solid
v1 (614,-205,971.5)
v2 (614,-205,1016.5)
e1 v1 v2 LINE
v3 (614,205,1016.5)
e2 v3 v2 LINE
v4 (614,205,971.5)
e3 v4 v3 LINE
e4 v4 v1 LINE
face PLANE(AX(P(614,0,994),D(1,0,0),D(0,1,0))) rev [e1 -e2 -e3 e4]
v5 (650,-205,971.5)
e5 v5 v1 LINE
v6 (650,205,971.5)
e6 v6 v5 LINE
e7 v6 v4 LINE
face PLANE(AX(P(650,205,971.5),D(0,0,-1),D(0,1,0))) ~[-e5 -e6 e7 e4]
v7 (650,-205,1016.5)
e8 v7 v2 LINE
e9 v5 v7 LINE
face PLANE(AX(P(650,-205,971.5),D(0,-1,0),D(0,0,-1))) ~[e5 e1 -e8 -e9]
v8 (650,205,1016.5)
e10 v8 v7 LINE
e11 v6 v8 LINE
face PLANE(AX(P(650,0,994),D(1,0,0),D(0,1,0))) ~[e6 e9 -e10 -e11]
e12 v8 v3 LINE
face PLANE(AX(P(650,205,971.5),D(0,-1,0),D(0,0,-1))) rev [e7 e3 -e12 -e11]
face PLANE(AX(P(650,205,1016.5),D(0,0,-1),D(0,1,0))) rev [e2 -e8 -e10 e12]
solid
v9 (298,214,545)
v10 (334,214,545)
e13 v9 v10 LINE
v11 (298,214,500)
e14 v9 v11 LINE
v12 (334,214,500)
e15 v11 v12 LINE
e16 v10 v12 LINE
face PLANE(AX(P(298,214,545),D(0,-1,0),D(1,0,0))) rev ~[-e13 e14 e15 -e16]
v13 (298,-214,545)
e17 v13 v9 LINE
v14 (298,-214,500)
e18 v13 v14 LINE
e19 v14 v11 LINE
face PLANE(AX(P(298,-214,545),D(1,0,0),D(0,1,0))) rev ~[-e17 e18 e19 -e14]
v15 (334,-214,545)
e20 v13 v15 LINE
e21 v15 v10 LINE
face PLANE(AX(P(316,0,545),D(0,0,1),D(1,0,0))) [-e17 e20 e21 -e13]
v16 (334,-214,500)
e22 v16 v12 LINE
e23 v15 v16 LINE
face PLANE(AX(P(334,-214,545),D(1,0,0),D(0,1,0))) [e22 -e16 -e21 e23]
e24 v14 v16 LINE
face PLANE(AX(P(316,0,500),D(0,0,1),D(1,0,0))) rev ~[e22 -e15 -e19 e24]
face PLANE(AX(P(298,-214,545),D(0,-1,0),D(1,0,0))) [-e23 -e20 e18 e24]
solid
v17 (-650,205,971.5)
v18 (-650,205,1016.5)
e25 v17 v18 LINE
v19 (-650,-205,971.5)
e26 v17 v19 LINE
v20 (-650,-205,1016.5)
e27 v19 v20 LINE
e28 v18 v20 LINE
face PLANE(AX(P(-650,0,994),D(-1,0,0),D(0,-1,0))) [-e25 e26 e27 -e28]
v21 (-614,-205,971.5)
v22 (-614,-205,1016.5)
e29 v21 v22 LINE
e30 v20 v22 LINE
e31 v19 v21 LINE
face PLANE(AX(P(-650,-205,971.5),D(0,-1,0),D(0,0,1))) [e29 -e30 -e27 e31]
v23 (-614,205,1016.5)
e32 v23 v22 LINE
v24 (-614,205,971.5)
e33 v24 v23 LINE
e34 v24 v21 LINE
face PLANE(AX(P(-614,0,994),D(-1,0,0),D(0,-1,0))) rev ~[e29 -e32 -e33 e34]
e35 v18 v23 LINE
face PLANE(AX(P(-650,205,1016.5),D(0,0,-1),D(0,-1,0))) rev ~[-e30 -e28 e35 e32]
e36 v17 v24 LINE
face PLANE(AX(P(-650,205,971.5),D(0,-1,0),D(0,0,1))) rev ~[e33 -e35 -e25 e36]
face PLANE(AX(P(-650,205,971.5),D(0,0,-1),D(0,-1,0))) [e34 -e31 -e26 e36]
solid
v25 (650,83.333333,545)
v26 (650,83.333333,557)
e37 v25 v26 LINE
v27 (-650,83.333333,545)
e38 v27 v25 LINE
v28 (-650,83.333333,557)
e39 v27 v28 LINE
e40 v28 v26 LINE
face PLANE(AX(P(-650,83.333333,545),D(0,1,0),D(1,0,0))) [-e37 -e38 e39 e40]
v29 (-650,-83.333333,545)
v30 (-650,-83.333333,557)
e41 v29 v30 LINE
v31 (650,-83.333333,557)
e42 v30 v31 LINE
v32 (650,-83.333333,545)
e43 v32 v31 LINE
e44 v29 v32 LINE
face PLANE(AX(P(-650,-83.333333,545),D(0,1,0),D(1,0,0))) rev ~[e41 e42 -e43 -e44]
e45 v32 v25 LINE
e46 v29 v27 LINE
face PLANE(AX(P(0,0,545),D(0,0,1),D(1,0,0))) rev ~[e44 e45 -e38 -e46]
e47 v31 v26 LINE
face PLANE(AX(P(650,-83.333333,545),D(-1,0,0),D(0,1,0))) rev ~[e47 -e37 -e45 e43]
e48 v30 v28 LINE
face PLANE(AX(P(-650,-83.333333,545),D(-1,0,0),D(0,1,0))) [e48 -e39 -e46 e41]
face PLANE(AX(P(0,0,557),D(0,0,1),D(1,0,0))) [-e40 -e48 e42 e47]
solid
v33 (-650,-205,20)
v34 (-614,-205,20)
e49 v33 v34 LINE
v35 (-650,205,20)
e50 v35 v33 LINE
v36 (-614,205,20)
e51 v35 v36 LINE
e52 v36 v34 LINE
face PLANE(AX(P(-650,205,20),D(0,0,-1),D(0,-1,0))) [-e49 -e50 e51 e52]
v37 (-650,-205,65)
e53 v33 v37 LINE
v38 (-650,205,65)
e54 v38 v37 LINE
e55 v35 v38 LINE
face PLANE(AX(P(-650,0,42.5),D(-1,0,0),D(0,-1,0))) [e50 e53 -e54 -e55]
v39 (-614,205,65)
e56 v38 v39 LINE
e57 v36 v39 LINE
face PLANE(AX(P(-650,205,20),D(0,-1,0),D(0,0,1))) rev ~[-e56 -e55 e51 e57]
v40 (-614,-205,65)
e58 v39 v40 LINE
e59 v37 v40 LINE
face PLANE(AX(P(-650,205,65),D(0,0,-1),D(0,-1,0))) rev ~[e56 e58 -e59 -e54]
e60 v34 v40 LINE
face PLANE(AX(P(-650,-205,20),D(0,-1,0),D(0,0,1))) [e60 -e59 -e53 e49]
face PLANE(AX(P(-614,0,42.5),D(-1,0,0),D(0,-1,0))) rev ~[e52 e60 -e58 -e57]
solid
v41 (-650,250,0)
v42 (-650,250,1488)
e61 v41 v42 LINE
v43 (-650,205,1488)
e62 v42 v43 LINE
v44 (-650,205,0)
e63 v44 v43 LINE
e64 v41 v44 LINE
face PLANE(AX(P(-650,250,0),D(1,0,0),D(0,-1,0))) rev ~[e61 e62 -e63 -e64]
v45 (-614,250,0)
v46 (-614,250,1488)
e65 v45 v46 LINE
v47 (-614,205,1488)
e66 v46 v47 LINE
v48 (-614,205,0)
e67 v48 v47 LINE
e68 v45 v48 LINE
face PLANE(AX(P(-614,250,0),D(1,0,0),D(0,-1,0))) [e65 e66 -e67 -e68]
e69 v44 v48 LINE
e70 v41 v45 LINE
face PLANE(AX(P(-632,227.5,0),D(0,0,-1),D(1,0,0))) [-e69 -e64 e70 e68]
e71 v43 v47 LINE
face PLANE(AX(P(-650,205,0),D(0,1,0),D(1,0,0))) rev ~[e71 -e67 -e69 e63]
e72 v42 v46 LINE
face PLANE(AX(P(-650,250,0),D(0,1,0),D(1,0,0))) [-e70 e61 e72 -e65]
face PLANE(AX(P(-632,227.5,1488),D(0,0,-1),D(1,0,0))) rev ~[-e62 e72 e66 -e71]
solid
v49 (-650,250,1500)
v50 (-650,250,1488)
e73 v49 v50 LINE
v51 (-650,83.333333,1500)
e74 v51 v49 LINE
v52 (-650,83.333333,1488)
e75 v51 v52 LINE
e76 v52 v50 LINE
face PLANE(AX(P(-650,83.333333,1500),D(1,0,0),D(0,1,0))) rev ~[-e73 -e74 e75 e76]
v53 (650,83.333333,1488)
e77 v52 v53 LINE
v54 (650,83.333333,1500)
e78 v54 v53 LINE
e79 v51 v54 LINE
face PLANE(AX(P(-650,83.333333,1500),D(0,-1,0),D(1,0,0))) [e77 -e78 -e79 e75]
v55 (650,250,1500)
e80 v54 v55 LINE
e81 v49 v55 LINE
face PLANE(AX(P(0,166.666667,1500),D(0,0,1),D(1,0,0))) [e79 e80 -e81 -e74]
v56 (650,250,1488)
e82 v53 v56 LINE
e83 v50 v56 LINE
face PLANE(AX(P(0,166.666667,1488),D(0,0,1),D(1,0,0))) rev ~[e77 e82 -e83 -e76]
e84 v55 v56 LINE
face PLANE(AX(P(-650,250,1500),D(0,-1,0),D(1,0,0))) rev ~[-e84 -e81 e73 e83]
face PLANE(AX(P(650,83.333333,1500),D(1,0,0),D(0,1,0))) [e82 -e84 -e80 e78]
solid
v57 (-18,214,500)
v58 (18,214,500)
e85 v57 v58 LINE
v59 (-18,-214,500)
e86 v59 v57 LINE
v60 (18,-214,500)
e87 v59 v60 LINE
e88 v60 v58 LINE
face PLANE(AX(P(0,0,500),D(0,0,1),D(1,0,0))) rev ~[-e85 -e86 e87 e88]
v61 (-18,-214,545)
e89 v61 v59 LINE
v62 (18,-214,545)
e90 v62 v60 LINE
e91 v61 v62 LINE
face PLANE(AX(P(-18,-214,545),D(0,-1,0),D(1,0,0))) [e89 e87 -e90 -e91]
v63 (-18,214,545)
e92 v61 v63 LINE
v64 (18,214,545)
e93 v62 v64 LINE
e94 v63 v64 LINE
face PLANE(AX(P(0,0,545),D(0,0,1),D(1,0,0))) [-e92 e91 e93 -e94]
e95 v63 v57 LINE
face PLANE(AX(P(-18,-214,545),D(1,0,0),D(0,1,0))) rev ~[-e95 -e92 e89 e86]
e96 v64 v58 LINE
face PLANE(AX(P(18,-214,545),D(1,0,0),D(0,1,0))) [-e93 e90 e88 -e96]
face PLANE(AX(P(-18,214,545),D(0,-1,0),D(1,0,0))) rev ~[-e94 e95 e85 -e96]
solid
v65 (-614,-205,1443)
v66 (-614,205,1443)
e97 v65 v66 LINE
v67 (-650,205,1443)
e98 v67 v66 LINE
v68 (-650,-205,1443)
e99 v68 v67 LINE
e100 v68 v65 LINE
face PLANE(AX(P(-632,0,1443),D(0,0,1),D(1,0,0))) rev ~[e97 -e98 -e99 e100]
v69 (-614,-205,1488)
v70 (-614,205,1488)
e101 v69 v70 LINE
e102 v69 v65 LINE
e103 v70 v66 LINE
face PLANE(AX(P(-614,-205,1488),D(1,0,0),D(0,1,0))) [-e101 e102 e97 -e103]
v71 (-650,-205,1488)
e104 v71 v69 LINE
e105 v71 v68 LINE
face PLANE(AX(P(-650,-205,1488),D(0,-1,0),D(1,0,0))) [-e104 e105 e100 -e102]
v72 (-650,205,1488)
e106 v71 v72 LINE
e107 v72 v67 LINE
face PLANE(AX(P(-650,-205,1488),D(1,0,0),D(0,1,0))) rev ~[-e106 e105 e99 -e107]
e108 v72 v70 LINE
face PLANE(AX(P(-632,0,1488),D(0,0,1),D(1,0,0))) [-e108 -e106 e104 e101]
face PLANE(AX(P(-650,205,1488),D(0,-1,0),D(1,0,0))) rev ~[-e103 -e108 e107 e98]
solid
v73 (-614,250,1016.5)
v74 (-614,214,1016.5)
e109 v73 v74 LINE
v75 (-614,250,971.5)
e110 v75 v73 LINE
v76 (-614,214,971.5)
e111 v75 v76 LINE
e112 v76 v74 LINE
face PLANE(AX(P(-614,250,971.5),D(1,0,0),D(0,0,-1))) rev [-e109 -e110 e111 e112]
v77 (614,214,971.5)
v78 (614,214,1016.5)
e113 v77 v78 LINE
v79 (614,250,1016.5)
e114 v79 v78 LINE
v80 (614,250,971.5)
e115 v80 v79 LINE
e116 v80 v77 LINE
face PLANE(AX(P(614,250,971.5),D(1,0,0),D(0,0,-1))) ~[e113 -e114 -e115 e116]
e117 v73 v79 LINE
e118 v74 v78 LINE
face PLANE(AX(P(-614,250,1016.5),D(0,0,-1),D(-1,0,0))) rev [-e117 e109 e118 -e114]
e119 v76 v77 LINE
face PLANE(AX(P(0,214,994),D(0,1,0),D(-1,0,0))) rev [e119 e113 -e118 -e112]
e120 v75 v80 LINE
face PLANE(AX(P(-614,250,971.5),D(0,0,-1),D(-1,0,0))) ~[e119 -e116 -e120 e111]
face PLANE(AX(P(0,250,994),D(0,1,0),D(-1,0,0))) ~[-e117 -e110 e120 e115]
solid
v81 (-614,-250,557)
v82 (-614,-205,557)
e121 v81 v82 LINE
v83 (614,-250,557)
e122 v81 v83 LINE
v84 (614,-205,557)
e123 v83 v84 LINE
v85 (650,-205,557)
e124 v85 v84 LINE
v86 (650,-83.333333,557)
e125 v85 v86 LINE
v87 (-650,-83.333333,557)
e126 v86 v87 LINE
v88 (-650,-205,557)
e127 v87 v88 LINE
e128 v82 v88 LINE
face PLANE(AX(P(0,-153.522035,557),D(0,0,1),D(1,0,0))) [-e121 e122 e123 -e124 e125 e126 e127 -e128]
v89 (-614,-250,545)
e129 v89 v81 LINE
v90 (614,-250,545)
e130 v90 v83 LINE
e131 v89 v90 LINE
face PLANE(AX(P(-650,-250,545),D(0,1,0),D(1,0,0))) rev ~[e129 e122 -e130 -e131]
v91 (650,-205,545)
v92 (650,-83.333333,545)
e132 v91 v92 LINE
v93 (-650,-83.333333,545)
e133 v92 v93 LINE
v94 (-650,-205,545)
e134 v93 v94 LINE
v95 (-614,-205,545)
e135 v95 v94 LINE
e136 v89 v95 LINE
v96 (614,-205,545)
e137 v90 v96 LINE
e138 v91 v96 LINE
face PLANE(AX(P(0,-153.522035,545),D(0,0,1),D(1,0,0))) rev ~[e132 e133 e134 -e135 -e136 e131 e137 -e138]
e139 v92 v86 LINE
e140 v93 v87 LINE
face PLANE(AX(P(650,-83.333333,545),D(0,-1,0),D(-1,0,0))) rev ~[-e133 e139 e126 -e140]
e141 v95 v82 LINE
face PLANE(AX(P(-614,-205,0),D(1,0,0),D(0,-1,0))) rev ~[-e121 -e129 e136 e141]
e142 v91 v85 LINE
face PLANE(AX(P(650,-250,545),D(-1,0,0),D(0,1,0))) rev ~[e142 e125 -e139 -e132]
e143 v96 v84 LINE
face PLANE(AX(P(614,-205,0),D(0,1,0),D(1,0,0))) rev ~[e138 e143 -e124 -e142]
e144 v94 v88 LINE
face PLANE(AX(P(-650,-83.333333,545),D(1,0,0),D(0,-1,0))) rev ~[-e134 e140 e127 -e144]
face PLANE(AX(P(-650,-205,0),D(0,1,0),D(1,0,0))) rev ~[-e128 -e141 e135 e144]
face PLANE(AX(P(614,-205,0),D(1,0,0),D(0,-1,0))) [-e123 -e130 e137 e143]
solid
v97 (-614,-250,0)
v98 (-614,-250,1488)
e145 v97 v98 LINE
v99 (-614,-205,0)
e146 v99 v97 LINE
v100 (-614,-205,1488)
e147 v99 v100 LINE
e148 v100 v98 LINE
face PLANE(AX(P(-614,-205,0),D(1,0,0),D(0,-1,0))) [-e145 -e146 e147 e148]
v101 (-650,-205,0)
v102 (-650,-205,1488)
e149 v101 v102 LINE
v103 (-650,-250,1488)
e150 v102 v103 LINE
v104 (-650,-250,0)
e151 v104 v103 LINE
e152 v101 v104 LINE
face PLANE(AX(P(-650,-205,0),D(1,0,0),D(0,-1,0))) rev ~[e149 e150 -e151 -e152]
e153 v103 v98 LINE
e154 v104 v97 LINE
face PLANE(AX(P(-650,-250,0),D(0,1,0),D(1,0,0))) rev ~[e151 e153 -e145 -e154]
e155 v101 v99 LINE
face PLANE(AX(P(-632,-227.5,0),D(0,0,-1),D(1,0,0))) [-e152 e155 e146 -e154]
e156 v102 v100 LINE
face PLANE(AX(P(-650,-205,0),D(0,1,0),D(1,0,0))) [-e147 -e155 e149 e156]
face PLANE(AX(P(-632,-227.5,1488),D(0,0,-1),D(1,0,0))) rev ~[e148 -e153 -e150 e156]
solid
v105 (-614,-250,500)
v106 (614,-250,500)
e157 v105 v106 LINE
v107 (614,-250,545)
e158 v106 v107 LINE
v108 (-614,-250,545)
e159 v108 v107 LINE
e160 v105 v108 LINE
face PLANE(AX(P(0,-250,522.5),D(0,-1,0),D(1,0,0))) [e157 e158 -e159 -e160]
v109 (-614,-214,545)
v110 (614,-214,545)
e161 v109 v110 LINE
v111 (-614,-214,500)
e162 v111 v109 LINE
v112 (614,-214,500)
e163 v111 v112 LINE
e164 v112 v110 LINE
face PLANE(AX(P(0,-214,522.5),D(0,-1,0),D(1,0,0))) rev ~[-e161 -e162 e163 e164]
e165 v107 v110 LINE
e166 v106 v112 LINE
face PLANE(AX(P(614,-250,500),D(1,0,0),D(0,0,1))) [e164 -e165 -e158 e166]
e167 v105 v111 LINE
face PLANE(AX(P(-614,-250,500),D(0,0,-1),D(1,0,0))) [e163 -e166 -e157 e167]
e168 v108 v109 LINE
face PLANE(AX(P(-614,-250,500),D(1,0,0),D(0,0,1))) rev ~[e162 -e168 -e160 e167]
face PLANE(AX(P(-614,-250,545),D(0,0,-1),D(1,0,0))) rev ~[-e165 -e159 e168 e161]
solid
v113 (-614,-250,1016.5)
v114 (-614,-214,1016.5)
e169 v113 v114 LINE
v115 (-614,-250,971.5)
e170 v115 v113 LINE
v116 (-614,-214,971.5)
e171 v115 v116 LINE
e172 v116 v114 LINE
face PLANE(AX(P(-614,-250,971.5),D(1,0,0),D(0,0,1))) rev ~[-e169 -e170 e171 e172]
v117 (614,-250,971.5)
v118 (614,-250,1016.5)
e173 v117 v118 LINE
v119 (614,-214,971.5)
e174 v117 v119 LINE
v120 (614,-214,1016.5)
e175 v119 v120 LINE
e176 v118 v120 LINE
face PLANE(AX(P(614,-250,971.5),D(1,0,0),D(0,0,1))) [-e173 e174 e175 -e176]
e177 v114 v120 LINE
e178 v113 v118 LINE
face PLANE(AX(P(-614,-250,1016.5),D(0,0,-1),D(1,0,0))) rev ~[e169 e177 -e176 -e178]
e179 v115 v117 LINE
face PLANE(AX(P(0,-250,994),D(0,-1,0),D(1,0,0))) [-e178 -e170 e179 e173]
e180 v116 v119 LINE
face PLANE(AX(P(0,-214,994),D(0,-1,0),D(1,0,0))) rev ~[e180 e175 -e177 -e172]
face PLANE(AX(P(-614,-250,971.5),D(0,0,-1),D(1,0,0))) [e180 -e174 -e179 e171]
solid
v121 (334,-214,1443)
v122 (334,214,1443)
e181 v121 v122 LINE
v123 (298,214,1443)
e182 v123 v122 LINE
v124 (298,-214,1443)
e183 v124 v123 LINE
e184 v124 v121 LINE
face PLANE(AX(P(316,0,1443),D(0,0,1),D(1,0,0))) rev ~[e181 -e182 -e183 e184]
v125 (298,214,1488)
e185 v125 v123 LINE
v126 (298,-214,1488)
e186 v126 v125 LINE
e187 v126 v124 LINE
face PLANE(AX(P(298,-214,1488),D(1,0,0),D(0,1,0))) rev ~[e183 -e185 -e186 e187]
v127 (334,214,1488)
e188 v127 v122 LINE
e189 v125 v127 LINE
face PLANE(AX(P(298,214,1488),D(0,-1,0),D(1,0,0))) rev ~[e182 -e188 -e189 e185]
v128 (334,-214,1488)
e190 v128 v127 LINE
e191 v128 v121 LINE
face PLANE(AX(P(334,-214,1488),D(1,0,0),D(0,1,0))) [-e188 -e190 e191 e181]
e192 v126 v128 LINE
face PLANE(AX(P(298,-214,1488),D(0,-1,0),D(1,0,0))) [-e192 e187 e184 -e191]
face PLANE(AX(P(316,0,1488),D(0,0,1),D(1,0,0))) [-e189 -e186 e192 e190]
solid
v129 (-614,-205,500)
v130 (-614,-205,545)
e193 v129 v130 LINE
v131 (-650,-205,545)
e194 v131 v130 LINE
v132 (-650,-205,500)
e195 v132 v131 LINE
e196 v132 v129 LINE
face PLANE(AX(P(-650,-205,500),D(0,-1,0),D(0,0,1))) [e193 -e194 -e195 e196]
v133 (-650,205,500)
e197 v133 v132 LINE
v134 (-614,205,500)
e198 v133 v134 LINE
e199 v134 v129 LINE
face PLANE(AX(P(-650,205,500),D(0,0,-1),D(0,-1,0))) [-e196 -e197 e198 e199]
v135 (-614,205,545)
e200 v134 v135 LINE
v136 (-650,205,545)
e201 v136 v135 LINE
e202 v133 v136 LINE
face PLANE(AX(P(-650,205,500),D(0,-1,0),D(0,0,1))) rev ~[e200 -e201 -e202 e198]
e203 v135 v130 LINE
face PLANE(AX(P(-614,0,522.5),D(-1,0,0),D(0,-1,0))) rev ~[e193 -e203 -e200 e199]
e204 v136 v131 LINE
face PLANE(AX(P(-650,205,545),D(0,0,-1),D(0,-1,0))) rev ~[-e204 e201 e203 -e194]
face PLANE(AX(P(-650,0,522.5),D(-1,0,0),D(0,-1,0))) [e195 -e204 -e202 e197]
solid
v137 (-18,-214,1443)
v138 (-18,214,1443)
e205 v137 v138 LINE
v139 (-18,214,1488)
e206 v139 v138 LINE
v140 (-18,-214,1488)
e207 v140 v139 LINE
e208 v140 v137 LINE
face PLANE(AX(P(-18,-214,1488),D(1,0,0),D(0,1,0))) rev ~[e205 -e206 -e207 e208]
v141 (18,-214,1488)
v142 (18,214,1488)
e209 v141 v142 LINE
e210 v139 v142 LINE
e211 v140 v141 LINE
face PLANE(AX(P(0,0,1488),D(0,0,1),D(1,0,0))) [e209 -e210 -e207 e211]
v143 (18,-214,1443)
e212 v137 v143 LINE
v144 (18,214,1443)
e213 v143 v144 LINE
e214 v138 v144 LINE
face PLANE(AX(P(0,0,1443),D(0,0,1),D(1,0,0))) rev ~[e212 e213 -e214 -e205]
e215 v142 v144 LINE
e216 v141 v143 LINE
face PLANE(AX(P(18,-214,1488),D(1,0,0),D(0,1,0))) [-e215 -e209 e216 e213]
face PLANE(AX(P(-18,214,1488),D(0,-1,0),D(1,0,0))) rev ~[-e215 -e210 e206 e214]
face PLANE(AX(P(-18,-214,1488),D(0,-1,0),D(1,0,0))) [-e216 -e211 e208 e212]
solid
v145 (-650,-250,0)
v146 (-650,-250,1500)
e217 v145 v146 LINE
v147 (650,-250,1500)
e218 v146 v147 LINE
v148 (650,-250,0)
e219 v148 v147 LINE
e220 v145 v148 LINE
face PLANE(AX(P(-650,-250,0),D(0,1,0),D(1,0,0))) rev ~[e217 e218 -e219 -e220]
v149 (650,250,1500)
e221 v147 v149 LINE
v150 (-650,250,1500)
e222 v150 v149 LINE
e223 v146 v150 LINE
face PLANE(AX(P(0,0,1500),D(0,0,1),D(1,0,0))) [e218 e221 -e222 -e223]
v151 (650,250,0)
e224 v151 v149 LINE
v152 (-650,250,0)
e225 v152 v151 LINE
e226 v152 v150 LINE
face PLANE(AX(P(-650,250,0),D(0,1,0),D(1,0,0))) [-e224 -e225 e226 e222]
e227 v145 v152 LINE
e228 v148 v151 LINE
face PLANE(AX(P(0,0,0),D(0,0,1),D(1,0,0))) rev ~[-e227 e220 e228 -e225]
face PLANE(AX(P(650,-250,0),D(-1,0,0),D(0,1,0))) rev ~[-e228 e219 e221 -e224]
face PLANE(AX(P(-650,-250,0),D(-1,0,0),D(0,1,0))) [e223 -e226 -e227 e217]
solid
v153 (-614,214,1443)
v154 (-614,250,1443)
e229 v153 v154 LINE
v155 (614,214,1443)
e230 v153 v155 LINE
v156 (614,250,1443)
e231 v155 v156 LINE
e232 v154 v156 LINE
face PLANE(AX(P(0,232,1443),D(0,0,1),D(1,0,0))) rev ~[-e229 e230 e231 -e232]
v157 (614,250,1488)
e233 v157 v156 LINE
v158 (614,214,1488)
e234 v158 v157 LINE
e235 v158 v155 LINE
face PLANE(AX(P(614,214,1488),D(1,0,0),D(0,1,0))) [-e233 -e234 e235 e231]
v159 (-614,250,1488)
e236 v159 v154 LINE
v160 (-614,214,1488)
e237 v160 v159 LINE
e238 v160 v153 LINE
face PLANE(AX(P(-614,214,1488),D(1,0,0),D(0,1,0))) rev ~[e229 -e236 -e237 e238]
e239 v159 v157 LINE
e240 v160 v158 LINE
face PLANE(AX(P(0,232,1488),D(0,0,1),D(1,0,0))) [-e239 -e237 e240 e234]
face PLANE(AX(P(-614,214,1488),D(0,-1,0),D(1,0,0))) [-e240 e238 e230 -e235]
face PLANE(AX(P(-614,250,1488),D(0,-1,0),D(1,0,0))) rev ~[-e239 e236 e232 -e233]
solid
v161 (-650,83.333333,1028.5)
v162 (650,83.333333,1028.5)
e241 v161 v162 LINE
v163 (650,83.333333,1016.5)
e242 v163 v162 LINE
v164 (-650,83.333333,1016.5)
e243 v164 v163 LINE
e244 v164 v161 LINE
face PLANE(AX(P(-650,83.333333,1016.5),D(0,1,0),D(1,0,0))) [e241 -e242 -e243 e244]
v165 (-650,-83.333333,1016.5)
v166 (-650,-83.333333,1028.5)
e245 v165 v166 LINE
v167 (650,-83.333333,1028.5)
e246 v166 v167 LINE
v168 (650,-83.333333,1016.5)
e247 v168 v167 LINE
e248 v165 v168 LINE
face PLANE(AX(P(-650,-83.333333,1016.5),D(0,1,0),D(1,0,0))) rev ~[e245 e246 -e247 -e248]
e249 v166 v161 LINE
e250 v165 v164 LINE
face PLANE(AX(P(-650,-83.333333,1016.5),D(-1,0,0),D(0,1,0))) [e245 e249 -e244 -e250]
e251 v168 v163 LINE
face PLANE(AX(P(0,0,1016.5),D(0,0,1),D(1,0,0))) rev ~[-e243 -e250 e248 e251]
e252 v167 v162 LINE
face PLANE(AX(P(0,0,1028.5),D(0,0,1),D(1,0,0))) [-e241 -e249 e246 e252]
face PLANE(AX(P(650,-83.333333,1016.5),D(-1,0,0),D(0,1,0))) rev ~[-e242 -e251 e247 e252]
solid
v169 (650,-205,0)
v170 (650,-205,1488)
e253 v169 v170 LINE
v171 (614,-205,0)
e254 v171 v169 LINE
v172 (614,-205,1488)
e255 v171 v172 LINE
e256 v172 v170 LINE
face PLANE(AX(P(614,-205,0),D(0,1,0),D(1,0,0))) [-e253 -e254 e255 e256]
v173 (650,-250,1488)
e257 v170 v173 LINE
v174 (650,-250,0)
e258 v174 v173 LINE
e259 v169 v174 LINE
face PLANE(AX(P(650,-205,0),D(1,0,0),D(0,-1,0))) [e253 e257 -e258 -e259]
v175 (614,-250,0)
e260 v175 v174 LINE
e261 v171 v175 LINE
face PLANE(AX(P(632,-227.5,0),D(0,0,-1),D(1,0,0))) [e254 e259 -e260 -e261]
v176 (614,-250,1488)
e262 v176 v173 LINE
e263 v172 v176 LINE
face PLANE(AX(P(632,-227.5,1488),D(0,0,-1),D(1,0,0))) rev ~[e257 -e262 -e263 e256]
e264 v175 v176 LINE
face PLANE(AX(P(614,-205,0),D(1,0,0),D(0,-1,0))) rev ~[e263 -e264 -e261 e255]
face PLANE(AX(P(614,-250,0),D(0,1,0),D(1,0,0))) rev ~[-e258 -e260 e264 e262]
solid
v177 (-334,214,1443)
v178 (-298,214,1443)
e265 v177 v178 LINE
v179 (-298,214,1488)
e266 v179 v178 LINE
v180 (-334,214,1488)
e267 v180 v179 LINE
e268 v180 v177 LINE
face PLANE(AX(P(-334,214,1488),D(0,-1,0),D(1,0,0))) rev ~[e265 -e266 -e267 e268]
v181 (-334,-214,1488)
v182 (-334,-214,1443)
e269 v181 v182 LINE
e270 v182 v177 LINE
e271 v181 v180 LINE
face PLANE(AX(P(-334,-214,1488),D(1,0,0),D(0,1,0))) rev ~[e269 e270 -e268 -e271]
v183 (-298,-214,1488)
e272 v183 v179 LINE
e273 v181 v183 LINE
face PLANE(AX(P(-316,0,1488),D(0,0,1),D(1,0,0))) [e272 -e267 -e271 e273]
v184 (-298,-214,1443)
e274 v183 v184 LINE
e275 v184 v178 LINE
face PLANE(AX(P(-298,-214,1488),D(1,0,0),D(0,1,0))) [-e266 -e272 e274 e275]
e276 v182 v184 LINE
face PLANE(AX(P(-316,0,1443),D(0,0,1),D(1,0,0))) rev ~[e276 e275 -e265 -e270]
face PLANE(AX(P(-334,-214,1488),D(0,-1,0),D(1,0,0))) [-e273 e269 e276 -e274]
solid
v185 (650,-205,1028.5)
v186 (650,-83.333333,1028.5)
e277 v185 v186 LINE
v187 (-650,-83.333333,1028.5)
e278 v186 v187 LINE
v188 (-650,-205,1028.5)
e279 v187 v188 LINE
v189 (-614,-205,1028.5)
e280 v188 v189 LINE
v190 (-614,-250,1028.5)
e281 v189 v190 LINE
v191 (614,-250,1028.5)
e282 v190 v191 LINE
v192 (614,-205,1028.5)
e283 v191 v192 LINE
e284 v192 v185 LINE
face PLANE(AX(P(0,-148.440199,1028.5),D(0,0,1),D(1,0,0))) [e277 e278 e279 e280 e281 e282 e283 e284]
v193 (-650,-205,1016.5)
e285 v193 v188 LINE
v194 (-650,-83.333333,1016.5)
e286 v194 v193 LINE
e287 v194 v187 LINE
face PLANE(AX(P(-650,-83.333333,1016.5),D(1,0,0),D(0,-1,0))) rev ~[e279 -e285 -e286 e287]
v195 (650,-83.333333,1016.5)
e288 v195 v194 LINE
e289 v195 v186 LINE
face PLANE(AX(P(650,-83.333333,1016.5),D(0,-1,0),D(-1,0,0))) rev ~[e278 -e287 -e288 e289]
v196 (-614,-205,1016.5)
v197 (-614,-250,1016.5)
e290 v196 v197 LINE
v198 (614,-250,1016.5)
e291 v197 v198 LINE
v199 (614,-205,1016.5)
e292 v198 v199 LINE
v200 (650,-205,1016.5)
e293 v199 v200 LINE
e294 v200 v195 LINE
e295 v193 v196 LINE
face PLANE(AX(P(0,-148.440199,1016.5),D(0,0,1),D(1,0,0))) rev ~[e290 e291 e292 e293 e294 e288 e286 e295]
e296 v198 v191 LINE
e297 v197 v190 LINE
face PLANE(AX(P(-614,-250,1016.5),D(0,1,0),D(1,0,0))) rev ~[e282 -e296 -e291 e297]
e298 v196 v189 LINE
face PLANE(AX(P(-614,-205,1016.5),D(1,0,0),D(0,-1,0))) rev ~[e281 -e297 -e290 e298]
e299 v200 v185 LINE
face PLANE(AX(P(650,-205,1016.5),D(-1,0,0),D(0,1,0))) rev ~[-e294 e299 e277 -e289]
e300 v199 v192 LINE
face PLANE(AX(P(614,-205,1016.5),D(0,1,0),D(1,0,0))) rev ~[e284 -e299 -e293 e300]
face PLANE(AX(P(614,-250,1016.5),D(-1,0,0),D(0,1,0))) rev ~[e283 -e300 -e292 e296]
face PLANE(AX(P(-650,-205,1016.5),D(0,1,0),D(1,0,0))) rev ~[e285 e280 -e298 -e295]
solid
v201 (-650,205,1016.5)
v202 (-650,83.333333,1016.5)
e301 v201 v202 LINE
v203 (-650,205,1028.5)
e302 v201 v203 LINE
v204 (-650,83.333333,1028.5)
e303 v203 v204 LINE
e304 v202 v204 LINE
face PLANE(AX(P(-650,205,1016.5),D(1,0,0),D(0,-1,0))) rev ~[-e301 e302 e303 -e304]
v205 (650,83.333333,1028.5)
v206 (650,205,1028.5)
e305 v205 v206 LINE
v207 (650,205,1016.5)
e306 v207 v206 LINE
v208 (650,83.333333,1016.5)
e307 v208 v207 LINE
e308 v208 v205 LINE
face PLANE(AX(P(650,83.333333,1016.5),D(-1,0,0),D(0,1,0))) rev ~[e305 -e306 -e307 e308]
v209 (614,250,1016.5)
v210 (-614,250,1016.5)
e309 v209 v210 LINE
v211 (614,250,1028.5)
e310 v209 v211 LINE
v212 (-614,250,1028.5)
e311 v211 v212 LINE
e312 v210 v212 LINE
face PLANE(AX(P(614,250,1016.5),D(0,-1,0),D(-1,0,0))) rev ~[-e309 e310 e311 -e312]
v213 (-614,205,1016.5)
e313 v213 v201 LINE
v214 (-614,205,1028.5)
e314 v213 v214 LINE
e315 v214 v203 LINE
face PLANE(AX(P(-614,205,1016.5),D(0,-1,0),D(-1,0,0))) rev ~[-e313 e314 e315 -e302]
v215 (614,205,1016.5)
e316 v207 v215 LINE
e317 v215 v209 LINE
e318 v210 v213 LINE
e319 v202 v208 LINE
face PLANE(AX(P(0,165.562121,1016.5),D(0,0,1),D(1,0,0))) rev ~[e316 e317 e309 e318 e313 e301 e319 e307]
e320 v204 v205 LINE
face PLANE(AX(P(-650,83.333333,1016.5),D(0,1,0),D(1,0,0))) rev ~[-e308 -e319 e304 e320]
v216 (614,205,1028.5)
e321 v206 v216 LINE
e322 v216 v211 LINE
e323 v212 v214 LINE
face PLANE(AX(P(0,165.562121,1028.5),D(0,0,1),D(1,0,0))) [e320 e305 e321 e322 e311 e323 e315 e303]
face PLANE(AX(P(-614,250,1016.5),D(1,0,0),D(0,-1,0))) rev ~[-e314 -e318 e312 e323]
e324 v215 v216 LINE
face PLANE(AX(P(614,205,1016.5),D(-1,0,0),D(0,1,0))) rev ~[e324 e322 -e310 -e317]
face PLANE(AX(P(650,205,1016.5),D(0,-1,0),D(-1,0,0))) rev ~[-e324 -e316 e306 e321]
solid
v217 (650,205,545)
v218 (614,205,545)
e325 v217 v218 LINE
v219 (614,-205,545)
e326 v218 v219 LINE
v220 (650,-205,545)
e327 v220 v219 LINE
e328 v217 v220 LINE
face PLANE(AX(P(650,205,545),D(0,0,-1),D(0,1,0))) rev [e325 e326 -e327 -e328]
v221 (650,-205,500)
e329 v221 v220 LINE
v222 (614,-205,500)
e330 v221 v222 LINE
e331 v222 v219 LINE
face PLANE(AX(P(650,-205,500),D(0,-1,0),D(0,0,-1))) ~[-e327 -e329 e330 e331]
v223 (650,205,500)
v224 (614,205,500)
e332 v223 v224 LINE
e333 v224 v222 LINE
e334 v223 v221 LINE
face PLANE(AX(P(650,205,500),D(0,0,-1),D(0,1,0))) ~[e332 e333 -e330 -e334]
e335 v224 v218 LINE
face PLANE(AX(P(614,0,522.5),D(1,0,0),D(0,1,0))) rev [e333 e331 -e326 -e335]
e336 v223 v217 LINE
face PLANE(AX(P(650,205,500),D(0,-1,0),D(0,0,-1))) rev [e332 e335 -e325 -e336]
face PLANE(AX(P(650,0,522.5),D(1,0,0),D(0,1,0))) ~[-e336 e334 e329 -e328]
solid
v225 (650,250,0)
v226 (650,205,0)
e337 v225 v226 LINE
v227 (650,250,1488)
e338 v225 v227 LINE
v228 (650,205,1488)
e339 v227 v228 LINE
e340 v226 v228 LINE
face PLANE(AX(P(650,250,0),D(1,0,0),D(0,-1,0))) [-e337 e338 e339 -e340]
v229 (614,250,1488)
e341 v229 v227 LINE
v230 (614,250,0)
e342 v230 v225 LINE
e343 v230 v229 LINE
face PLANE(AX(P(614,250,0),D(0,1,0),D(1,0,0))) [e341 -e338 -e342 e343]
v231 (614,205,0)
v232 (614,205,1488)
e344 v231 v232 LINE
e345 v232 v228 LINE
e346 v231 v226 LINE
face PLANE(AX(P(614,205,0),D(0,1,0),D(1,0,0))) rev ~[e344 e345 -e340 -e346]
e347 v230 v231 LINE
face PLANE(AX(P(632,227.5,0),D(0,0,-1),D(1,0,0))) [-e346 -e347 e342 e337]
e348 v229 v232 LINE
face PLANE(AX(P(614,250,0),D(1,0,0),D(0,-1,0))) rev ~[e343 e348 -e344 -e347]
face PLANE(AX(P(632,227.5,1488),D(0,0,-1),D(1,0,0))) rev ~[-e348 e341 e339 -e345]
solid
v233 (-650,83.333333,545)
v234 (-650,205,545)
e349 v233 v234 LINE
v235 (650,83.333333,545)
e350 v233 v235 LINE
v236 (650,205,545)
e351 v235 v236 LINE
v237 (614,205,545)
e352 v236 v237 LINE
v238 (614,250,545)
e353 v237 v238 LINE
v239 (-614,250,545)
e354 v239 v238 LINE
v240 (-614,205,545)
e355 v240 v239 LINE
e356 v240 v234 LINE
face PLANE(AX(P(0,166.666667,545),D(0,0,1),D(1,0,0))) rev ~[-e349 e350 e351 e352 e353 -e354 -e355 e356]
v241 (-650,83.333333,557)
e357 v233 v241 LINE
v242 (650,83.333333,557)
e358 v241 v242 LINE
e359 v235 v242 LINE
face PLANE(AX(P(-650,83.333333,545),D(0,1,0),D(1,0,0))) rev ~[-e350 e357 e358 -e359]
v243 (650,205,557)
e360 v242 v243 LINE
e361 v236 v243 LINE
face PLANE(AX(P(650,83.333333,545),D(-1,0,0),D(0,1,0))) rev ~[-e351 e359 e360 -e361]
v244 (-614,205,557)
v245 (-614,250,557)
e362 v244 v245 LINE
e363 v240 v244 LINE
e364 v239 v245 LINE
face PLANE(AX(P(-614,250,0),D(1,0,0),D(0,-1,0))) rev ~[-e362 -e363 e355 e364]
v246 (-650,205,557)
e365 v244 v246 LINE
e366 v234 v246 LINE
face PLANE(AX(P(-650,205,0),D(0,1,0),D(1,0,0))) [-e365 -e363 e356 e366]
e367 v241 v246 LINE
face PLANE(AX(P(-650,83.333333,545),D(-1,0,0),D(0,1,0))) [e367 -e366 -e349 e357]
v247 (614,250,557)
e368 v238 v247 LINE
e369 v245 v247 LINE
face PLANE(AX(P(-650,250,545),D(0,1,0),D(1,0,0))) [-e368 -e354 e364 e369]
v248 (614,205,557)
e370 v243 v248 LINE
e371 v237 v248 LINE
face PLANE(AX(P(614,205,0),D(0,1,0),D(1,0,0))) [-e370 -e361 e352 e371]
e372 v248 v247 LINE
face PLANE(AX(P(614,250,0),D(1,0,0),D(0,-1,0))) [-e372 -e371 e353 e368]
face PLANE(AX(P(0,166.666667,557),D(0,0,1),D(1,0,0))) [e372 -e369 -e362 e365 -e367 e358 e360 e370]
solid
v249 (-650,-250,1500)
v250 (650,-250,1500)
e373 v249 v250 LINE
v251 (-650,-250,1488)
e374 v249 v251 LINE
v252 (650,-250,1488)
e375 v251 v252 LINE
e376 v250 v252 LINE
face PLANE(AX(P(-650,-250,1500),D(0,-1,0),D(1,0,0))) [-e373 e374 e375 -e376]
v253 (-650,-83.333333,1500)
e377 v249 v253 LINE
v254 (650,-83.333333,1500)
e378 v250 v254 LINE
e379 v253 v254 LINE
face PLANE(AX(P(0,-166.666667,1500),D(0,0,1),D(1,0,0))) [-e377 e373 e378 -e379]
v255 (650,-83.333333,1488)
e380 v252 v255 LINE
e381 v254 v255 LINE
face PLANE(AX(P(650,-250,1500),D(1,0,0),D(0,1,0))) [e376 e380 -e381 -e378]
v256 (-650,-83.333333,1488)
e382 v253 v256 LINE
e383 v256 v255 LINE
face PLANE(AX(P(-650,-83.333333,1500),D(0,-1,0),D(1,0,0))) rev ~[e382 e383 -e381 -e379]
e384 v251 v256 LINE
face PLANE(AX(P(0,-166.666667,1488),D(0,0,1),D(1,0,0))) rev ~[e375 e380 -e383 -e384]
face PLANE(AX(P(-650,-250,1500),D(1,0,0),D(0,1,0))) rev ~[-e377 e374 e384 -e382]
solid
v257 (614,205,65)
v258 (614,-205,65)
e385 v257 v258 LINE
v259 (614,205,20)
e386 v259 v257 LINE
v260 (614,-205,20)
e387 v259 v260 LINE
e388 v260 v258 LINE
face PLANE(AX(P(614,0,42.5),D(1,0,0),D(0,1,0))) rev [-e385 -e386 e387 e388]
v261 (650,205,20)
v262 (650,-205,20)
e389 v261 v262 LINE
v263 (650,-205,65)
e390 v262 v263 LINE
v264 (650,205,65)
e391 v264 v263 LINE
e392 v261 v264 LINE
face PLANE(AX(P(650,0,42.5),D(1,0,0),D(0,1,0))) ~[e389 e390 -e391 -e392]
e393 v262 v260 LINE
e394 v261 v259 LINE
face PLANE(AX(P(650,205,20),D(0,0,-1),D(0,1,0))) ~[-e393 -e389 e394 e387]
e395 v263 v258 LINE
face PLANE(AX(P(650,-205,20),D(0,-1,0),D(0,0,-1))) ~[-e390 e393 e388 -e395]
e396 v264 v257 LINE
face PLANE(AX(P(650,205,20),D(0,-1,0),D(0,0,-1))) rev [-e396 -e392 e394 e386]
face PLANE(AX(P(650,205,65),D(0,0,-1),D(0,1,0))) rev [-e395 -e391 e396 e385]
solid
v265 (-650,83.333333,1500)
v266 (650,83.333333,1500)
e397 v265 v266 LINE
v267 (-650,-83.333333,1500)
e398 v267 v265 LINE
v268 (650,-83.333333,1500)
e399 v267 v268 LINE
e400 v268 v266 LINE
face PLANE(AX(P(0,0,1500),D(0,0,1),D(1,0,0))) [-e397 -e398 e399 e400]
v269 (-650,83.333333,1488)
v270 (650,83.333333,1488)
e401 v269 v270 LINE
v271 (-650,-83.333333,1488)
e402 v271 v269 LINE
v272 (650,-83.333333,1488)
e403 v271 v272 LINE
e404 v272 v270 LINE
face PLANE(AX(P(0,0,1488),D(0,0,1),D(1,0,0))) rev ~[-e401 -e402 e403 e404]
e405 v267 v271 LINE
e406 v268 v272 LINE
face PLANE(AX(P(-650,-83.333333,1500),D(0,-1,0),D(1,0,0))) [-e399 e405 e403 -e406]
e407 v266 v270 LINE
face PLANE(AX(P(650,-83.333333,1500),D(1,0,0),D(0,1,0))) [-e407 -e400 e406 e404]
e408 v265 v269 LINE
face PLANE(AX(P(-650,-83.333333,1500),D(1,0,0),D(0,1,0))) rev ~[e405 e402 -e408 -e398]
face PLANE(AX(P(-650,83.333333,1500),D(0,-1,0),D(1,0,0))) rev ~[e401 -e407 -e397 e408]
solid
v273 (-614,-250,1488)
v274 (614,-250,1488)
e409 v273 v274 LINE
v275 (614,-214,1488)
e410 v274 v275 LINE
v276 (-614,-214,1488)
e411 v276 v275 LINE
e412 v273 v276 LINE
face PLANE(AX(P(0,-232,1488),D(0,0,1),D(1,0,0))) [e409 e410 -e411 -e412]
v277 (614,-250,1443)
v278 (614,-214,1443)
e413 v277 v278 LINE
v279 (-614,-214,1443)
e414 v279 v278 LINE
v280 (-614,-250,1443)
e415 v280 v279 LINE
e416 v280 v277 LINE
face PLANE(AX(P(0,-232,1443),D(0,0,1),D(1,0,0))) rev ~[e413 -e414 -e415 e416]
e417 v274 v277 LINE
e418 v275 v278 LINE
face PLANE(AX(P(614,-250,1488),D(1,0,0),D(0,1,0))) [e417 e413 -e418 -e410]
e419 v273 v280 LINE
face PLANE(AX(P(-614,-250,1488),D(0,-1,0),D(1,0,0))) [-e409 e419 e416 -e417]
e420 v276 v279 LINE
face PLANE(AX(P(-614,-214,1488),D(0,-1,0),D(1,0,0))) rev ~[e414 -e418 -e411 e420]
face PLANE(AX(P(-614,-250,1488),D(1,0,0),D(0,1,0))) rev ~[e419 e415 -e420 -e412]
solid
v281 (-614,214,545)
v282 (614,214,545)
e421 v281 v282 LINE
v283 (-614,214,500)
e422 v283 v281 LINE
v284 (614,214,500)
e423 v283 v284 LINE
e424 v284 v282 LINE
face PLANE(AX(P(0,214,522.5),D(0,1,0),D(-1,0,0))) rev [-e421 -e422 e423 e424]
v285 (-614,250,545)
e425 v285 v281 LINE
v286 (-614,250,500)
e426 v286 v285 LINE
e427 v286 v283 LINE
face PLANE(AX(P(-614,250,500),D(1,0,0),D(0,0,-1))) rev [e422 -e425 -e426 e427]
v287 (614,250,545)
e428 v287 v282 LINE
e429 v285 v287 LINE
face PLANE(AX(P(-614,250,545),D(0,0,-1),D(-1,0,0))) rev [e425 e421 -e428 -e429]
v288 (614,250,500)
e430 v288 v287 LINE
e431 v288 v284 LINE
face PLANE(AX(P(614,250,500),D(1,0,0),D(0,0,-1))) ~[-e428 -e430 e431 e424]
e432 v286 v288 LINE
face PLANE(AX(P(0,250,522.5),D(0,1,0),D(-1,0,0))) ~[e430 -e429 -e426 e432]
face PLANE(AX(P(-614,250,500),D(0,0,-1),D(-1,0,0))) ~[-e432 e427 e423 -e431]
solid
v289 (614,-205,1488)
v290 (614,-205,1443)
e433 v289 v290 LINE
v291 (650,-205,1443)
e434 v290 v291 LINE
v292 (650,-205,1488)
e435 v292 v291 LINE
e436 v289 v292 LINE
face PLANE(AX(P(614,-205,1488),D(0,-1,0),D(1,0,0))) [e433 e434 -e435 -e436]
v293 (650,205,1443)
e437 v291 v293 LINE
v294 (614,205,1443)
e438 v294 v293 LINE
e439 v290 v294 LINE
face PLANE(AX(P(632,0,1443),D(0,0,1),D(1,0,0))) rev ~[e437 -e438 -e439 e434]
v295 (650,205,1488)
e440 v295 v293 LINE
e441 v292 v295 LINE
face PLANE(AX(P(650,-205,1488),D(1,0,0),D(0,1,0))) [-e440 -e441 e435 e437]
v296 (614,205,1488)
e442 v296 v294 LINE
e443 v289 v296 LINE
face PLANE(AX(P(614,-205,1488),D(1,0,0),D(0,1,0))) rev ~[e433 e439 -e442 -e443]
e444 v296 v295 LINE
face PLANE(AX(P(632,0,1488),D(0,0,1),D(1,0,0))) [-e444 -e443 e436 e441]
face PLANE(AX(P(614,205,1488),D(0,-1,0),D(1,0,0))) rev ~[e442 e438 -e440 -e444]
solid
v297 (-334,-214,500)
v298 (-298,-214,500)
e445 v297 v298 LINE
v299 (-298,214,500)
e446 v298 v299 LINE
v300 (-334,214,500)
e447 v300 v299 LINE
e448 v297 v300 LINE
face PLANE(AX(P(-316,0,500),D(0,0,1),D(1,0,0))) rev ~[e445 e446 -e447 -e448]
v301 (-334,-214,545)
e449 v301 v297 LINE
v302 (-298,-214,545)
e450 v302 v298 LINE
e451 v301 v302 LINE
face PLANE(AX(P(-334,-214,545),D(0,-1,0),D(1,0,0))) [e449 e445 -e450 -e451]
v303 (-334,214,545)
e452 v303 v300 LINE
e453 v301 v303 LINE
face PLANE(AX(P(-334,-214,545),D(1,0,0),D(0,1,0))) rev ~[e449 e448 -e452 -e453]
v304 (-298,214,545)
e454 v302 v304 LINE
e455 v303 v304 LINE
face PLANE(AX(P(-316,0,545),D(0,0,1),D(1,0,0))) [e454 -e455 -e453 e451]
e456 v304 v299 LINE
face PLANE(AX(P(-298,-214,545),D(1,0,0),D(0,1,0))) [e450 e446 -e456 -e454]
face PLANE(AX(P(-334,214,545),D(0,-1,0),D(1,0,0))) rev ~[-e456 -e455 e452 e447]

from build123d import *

# Parameters (mm, degrees)
F1_W      = 1300
F1_H      = 500
F2_DEPTH  = 1500
F4_W      = 36
F4_H      = 45
F5_DEPTH  = 1488
F6_W      = 36
F6_H      = 410
F7_DEPTH  = 45
F6_W_2    = 1228
F6_H_2    = 36
F8_W      = 36
F8_H      = 428
F9_DEPTH  = 45
F10_W     = 1300
F10_H     = 166.6666666667
F11_DEPTH = 12
F12_DEPTH = 12
F13_DEPTH = 12
F14_W     = 1228
F14_H     = 45
F15_DEPTH = 36
F17_W     = 410
F17_H     = 45
F18_DEPTH = 36
F20_W     = 36
F20_H     = 428
F21_DEPTH = 45
F22_W     = 1228
F22_H     = 36
F23_DEPTH = 12
F22_W_2   = 1300
F22_H_2   = 166.6666666667
F24_DEPTH = 12
F25_DEPTH = 12
F28_W     = 410
F28_H     = 45
F29_DEPTH = 36
F31_W     = 1228
F31_H     = 45
F32_DEPTH = 36
F34_W     = 410
F34_H     = 45
F35_DEPTH = 36
F37_W     = 1228
F37_H     = 36
F38_DEPTH = 12
F37_W_2   = 1300
F37_H_2   = 166.6666666667
F39_DEPTH = 12
F40_DEPTH = 12


with BuildPart() as f2:
    # F1 (on Top) → F2 (new body)
    with BuildSketch(Plane.XY):
        Rectangle(F1_W, F1_H)
    extrude(amount=F2_DEPTH)


with BuildPart() as f5:
    # F4 (on face) → F5 (new body, through all)
    with BuildSketch(Plane(origin=(0, 0, 0), x_dir=(1, 0, 0), z_dir=(0, 0, -1))):
        with Locations((-632, 227.5)):
            Rectangle(F4_W, F4_H)
    extrude(amount=-F5_DEPTH)


with BuildPart() as f5b:
    # F4 (on face) → F5, piece 2 (new body, through all)
    with BuildSketch(Plane(origin=(0, 0, 0), x_dir=(1, 0, 0), z_dir=(0, 0, -1))):
        with Locations((-632, -227.5)):
            Rectangle(F4_W, F4_H)
    extrude(amount=-F5_DEPTH)


with BuildPart() as f5c:
    # F4 (on face) → F5, piece 3 (new body, through all)
    with BuildSketch(Plane(origin=(0, 0, 0), x_dir=(1, 0, 0), z_dir=(0, 0, -1))):
        with Locations((632, 227.5)):
            Rectangle(F4_W, F4_H)
    extrude(amount=-F5_DEPTH)


with BuildPart() as f5d:
    # F4 (on face) → F5, piece 4 (new body, through all)
    with BuildSketch(Plane(origin=(0, 0, 0), x_dir=(1, 0, 0), z_dir=(0, 0, -1))):
        with Locations((632, -227.5)):
            Rectangle(F4_W, F4_H)
    extrude(amount=-F5_DEPTH)


with BuildPart() as f7:
    # F6 (on offset) → F7 (new body)
    with BuildSketch(Plane.XY.offset(1488)):
        with Locations((-632, 0)):
            Rectangle(F6_W, F6_H)
    extrude(amount=-F7_DEPTH)


with BuildPart() as f7b:
    # F6 (on offset) → F7, piece 2 (new body)
    with BuildSketch(Plane.XY.offset(1488)):
        with Locations((0, 232)):
            Rectangle(F6_W_2, F6_H_2)
    extrude(amount=-F7_DEPTH)


with BuildPart() as f7c:
    # F6 (on offset) → F7, piece 3 (new body)
    with BuildSketch(Plane.XY.offset(1488)):
        with Locations((632, 0)):
            Rectangle(F6_W, F6_H)
    extrude(amount=-F7_DEPTH)


with BuildPart() as f7d:
    # F6 (on offset) → F7, piece 4 (new body)
    with BuildSketch(Plane.XY.offset(1488)):
        with Locations((0, -232)):
            Rectangle(F6_W_2, F6_H_2)
    extrude(amount=-F7_DEPTH)


with BuildPart() as f9:
    # F8 (on offset) → F9 (new body)
    with BuildSketch(Plane.XY.offset(1488)):
        with Locations((-316, 0)):
            Rectangle(F8_W, F8_H)
    extrude(amount=-F9_DEPTH)


with BuildPart() as f9b:
    # F8 (on offset) → F9, piece 2 (new body)
    with BuildSketch(Plane.XY.offset(1488)):
        Rectangle(F8_W, F8_H)
    extrude(amount=-F9_DEPTH)


with BuildPart() as f9c:
    # F8 (on offset) → F9, piece 3 (new body)
    with BuildSketch(Plane.XY.offset(1488)):
        with Locations((316, 0)):
            Rectangle(F8_W, F8_H)
    extrude(amount=-F9_DEPTH)


with BuildPart() as f11:
    # F10 (on face) → F11 (new body)
    with BuildSketch(Plane.XY.offset(1500)):
        with Locations((0, -166.6666666667)):
            Rectangle(F10_W, F10_H)
    extrude(amount=-F11_DEPTH)


with BuildPart() as f12:
    # F10 (on face) → F12 (new body)
    with BuildSketch(Plane.XY.offset(1500)):
        Rectangle(F10_W, F10_H)
    extrude(amount=-F12_DEPTH)


with BuildPart() as f13:
    # F10 (on face) → F13 (new body)
    with BuildSketch(Plane.XY.offset(1500)):
        with Locations((0, 166.6666666667)):
            Rectangle(F10_W, F10_H)
    extrude(amount=-F13_DEPTH)


with BuildPart() as f15:
    # F14 (on face) → F15 (new body)
    with BuildSketch(Plane.XZ.offset(250)):
        with Locations((0, 522.5)):
            Rectangle(F14_W, F14_H)
    extrude(amount=-F15_DEPTH)


with BuildPart() as f16_1:
    # F16: instance of F15
    add(f15.part.mirror(Plane.XZ))


with BuildPart() as f18:
    # F17 (on face) → F18 (new body)
    with BuildSketch(Plane(origin=(-650, 0, 0), x_dir=(0, -1, 0), z_dir=(-1, 0, 0))):
        with Locations((0, 522.5)):
            Rectangle(F17_W, F17_H)
    extrude(amount=-F18_DEPTH)


with BuildPart() as f19_1:
    # F19: instance of F18
    add(f18.part.mirror(Plane.YZ))


with BuildPart() as f21:
    # F20 (on face) → F21 (new body)
    with BuildSketch(Plane.XY.offset(545)):
        with Locations((-316, 0)):
            Rectangle(F20_W, F20_H)
    extrude(amount=-F21_DEPTH)


with BuildPart() as f21b:
    # F20 (on face) → F21, piece 2 (new body)
    with BuildSketch(Plane.XY.offset(545)):
        Rectangle(F20_W, F20_H)
    extrude(amount=-F21_DEPTH)


with BuildPart() as f21c:
    # F20 (on face) → F21, piece 3 (new body)
    with BuildSketch(Plane.XY.offset(545)):
        with Locations((316, 0)):
            Rectangle(F20_W, F20_H)
    extrude(amount=-F21_DEPTH)


with BuildPart() as f23:
    # F22 (on face) → F23 (new body)
    with BuildSketch(Plane.XY.offset(545)):
        Polygon((650, -250), (650, -83.3333333333), (-650, -83.3333333333), (-650, -250), (-614, -250), (-614, -214), (614, -214), (614, -250), align=None)
        with Locations((0, -232)):
            Rectangle(F22_W, F22_H)
    extrude(amount=F23_DEPTH)

    # F26: cut F5, F5c
    add(f5.part, mode=Mode.SUBTRACT)
    add(f5c.part, mode=Mode.SUBTRACT)


with BuildPart() as f24:
    # F22 (on face) → F24 (new body)
    with BuildSketch(Plane.XY.offset(545)):
        Rectangle(F22_W_2, F22_H_2)
    extrude(amount=F24_DEPTH)


with BuildPart() as f25:
    # F22 (on face) → F25 (new body)
    with BuildSketch(Plane.XY.offset(545)):
        with Locations((0, 166.6666666667)):
            Rectangle(F22_W_2, F22_H_2)
    extrude(amount=F25_DEPTH)

    # F27: cut F5b, F5d
    add(f5b.part, mode=Mode.SUBTRACT)
    add(f5d.part, mode=Mode.SUBTRACT)


with BuildPart() as f29:
    # F28 (on face) → F29 (new body)
    with BuildSketch(Plane(origin=(-650, 0, 0), x_dir=(0, -1, 0), z_dir=(-1, 0, 0))):
        with Locations((0, 42.5)):
            Rectangle(F28_W, F28_H)
    extrude(amount=-F29_DEPTH)


with BuildPart() as f30_1:
    # F30: instance of F29
    add(f29.part.mirror(Plane.YZ))


with BuildPart() as f32:
    # F31 (on face) → F32 (new body)
    with BuildSketch(Plane.XZ.offset(250)):
        with Locations((0, 994)):
            Rectangle(F31_W, F31_H)
    extrude(amount=-F32_DEPTH)


with BuildPart() as f33_1:
    # F33: instance of F32
    add(f32.part.mirror(Plane.XZ))


with BuildPart() as f35:
    # F34 (on face) → F35 (new body)
    with BuildSketch(Plane(origin=(-650, 0, 0), x_dir=(0, -1, 0), z_dir=(-1, 0, 0))):
        with Locations((0, 994)):
            Rectangle(F34_W, F34_H)
    extrude(amount=-F35_DEPTH)


with BuildPart() as f36_1:
    # F36: instance of F35
    add(f35.part.mirror(Plane.YZ))


with BuildPart() as f38:
    # F37 (on face) → F38 (new body)
    with BuildSketch(Plane.XY.offset(1016.5)):
        Polygon((-650, -83.3333333333), (-650, -205), (-614, -205), (-614, -214), (614, -214), (614, -205), (650, -205), (650, -83.3333333333), align=None)
        with Locations((0, -232)):
            Rectangle(F37_W, F37_H)
    extrude(amount=F38_DEPTH)


with BuildPart() as f39:
    # F37 (on face) → F39 (new body)
    with BuildSketch(Plane.XY.offset(1016.5)):
        Rectangle(F37_W_2, F37_H_2)
    extrude(amount=F39_DEPTH)


with BuildPart() as f40:
    # F37 (on face) → F40 (new body)
    with BuildSketch(Plane.XY.offset(1016.5)):
        Polygon((-650, 205), (-650, 83.3333333333), (650, 83.3333333333), (650, 205), (614, 205), (614, 250), (-614, 250), (-614, 205), align=None)
    extrude(amount=F40_DEPTH)


solid = Compound([f2.part, f5.part, f5b.part, f5c.part, f5d.part, f7.part, f7b.part, f7c.part, f7d.part, f9.part, f9b.part, f9c.part, f11.part, f12.part, f13.part, f15.part, f16_1.part, f18.part, f19_1.part, f21.part, f21b.part, f21c.part, f23.part, f24.part, f25.part, f29.part, f30_1.part, f32.part, f33_1.part, f35.part, f36_1.part, f38.part, f39.part, f40.part])
